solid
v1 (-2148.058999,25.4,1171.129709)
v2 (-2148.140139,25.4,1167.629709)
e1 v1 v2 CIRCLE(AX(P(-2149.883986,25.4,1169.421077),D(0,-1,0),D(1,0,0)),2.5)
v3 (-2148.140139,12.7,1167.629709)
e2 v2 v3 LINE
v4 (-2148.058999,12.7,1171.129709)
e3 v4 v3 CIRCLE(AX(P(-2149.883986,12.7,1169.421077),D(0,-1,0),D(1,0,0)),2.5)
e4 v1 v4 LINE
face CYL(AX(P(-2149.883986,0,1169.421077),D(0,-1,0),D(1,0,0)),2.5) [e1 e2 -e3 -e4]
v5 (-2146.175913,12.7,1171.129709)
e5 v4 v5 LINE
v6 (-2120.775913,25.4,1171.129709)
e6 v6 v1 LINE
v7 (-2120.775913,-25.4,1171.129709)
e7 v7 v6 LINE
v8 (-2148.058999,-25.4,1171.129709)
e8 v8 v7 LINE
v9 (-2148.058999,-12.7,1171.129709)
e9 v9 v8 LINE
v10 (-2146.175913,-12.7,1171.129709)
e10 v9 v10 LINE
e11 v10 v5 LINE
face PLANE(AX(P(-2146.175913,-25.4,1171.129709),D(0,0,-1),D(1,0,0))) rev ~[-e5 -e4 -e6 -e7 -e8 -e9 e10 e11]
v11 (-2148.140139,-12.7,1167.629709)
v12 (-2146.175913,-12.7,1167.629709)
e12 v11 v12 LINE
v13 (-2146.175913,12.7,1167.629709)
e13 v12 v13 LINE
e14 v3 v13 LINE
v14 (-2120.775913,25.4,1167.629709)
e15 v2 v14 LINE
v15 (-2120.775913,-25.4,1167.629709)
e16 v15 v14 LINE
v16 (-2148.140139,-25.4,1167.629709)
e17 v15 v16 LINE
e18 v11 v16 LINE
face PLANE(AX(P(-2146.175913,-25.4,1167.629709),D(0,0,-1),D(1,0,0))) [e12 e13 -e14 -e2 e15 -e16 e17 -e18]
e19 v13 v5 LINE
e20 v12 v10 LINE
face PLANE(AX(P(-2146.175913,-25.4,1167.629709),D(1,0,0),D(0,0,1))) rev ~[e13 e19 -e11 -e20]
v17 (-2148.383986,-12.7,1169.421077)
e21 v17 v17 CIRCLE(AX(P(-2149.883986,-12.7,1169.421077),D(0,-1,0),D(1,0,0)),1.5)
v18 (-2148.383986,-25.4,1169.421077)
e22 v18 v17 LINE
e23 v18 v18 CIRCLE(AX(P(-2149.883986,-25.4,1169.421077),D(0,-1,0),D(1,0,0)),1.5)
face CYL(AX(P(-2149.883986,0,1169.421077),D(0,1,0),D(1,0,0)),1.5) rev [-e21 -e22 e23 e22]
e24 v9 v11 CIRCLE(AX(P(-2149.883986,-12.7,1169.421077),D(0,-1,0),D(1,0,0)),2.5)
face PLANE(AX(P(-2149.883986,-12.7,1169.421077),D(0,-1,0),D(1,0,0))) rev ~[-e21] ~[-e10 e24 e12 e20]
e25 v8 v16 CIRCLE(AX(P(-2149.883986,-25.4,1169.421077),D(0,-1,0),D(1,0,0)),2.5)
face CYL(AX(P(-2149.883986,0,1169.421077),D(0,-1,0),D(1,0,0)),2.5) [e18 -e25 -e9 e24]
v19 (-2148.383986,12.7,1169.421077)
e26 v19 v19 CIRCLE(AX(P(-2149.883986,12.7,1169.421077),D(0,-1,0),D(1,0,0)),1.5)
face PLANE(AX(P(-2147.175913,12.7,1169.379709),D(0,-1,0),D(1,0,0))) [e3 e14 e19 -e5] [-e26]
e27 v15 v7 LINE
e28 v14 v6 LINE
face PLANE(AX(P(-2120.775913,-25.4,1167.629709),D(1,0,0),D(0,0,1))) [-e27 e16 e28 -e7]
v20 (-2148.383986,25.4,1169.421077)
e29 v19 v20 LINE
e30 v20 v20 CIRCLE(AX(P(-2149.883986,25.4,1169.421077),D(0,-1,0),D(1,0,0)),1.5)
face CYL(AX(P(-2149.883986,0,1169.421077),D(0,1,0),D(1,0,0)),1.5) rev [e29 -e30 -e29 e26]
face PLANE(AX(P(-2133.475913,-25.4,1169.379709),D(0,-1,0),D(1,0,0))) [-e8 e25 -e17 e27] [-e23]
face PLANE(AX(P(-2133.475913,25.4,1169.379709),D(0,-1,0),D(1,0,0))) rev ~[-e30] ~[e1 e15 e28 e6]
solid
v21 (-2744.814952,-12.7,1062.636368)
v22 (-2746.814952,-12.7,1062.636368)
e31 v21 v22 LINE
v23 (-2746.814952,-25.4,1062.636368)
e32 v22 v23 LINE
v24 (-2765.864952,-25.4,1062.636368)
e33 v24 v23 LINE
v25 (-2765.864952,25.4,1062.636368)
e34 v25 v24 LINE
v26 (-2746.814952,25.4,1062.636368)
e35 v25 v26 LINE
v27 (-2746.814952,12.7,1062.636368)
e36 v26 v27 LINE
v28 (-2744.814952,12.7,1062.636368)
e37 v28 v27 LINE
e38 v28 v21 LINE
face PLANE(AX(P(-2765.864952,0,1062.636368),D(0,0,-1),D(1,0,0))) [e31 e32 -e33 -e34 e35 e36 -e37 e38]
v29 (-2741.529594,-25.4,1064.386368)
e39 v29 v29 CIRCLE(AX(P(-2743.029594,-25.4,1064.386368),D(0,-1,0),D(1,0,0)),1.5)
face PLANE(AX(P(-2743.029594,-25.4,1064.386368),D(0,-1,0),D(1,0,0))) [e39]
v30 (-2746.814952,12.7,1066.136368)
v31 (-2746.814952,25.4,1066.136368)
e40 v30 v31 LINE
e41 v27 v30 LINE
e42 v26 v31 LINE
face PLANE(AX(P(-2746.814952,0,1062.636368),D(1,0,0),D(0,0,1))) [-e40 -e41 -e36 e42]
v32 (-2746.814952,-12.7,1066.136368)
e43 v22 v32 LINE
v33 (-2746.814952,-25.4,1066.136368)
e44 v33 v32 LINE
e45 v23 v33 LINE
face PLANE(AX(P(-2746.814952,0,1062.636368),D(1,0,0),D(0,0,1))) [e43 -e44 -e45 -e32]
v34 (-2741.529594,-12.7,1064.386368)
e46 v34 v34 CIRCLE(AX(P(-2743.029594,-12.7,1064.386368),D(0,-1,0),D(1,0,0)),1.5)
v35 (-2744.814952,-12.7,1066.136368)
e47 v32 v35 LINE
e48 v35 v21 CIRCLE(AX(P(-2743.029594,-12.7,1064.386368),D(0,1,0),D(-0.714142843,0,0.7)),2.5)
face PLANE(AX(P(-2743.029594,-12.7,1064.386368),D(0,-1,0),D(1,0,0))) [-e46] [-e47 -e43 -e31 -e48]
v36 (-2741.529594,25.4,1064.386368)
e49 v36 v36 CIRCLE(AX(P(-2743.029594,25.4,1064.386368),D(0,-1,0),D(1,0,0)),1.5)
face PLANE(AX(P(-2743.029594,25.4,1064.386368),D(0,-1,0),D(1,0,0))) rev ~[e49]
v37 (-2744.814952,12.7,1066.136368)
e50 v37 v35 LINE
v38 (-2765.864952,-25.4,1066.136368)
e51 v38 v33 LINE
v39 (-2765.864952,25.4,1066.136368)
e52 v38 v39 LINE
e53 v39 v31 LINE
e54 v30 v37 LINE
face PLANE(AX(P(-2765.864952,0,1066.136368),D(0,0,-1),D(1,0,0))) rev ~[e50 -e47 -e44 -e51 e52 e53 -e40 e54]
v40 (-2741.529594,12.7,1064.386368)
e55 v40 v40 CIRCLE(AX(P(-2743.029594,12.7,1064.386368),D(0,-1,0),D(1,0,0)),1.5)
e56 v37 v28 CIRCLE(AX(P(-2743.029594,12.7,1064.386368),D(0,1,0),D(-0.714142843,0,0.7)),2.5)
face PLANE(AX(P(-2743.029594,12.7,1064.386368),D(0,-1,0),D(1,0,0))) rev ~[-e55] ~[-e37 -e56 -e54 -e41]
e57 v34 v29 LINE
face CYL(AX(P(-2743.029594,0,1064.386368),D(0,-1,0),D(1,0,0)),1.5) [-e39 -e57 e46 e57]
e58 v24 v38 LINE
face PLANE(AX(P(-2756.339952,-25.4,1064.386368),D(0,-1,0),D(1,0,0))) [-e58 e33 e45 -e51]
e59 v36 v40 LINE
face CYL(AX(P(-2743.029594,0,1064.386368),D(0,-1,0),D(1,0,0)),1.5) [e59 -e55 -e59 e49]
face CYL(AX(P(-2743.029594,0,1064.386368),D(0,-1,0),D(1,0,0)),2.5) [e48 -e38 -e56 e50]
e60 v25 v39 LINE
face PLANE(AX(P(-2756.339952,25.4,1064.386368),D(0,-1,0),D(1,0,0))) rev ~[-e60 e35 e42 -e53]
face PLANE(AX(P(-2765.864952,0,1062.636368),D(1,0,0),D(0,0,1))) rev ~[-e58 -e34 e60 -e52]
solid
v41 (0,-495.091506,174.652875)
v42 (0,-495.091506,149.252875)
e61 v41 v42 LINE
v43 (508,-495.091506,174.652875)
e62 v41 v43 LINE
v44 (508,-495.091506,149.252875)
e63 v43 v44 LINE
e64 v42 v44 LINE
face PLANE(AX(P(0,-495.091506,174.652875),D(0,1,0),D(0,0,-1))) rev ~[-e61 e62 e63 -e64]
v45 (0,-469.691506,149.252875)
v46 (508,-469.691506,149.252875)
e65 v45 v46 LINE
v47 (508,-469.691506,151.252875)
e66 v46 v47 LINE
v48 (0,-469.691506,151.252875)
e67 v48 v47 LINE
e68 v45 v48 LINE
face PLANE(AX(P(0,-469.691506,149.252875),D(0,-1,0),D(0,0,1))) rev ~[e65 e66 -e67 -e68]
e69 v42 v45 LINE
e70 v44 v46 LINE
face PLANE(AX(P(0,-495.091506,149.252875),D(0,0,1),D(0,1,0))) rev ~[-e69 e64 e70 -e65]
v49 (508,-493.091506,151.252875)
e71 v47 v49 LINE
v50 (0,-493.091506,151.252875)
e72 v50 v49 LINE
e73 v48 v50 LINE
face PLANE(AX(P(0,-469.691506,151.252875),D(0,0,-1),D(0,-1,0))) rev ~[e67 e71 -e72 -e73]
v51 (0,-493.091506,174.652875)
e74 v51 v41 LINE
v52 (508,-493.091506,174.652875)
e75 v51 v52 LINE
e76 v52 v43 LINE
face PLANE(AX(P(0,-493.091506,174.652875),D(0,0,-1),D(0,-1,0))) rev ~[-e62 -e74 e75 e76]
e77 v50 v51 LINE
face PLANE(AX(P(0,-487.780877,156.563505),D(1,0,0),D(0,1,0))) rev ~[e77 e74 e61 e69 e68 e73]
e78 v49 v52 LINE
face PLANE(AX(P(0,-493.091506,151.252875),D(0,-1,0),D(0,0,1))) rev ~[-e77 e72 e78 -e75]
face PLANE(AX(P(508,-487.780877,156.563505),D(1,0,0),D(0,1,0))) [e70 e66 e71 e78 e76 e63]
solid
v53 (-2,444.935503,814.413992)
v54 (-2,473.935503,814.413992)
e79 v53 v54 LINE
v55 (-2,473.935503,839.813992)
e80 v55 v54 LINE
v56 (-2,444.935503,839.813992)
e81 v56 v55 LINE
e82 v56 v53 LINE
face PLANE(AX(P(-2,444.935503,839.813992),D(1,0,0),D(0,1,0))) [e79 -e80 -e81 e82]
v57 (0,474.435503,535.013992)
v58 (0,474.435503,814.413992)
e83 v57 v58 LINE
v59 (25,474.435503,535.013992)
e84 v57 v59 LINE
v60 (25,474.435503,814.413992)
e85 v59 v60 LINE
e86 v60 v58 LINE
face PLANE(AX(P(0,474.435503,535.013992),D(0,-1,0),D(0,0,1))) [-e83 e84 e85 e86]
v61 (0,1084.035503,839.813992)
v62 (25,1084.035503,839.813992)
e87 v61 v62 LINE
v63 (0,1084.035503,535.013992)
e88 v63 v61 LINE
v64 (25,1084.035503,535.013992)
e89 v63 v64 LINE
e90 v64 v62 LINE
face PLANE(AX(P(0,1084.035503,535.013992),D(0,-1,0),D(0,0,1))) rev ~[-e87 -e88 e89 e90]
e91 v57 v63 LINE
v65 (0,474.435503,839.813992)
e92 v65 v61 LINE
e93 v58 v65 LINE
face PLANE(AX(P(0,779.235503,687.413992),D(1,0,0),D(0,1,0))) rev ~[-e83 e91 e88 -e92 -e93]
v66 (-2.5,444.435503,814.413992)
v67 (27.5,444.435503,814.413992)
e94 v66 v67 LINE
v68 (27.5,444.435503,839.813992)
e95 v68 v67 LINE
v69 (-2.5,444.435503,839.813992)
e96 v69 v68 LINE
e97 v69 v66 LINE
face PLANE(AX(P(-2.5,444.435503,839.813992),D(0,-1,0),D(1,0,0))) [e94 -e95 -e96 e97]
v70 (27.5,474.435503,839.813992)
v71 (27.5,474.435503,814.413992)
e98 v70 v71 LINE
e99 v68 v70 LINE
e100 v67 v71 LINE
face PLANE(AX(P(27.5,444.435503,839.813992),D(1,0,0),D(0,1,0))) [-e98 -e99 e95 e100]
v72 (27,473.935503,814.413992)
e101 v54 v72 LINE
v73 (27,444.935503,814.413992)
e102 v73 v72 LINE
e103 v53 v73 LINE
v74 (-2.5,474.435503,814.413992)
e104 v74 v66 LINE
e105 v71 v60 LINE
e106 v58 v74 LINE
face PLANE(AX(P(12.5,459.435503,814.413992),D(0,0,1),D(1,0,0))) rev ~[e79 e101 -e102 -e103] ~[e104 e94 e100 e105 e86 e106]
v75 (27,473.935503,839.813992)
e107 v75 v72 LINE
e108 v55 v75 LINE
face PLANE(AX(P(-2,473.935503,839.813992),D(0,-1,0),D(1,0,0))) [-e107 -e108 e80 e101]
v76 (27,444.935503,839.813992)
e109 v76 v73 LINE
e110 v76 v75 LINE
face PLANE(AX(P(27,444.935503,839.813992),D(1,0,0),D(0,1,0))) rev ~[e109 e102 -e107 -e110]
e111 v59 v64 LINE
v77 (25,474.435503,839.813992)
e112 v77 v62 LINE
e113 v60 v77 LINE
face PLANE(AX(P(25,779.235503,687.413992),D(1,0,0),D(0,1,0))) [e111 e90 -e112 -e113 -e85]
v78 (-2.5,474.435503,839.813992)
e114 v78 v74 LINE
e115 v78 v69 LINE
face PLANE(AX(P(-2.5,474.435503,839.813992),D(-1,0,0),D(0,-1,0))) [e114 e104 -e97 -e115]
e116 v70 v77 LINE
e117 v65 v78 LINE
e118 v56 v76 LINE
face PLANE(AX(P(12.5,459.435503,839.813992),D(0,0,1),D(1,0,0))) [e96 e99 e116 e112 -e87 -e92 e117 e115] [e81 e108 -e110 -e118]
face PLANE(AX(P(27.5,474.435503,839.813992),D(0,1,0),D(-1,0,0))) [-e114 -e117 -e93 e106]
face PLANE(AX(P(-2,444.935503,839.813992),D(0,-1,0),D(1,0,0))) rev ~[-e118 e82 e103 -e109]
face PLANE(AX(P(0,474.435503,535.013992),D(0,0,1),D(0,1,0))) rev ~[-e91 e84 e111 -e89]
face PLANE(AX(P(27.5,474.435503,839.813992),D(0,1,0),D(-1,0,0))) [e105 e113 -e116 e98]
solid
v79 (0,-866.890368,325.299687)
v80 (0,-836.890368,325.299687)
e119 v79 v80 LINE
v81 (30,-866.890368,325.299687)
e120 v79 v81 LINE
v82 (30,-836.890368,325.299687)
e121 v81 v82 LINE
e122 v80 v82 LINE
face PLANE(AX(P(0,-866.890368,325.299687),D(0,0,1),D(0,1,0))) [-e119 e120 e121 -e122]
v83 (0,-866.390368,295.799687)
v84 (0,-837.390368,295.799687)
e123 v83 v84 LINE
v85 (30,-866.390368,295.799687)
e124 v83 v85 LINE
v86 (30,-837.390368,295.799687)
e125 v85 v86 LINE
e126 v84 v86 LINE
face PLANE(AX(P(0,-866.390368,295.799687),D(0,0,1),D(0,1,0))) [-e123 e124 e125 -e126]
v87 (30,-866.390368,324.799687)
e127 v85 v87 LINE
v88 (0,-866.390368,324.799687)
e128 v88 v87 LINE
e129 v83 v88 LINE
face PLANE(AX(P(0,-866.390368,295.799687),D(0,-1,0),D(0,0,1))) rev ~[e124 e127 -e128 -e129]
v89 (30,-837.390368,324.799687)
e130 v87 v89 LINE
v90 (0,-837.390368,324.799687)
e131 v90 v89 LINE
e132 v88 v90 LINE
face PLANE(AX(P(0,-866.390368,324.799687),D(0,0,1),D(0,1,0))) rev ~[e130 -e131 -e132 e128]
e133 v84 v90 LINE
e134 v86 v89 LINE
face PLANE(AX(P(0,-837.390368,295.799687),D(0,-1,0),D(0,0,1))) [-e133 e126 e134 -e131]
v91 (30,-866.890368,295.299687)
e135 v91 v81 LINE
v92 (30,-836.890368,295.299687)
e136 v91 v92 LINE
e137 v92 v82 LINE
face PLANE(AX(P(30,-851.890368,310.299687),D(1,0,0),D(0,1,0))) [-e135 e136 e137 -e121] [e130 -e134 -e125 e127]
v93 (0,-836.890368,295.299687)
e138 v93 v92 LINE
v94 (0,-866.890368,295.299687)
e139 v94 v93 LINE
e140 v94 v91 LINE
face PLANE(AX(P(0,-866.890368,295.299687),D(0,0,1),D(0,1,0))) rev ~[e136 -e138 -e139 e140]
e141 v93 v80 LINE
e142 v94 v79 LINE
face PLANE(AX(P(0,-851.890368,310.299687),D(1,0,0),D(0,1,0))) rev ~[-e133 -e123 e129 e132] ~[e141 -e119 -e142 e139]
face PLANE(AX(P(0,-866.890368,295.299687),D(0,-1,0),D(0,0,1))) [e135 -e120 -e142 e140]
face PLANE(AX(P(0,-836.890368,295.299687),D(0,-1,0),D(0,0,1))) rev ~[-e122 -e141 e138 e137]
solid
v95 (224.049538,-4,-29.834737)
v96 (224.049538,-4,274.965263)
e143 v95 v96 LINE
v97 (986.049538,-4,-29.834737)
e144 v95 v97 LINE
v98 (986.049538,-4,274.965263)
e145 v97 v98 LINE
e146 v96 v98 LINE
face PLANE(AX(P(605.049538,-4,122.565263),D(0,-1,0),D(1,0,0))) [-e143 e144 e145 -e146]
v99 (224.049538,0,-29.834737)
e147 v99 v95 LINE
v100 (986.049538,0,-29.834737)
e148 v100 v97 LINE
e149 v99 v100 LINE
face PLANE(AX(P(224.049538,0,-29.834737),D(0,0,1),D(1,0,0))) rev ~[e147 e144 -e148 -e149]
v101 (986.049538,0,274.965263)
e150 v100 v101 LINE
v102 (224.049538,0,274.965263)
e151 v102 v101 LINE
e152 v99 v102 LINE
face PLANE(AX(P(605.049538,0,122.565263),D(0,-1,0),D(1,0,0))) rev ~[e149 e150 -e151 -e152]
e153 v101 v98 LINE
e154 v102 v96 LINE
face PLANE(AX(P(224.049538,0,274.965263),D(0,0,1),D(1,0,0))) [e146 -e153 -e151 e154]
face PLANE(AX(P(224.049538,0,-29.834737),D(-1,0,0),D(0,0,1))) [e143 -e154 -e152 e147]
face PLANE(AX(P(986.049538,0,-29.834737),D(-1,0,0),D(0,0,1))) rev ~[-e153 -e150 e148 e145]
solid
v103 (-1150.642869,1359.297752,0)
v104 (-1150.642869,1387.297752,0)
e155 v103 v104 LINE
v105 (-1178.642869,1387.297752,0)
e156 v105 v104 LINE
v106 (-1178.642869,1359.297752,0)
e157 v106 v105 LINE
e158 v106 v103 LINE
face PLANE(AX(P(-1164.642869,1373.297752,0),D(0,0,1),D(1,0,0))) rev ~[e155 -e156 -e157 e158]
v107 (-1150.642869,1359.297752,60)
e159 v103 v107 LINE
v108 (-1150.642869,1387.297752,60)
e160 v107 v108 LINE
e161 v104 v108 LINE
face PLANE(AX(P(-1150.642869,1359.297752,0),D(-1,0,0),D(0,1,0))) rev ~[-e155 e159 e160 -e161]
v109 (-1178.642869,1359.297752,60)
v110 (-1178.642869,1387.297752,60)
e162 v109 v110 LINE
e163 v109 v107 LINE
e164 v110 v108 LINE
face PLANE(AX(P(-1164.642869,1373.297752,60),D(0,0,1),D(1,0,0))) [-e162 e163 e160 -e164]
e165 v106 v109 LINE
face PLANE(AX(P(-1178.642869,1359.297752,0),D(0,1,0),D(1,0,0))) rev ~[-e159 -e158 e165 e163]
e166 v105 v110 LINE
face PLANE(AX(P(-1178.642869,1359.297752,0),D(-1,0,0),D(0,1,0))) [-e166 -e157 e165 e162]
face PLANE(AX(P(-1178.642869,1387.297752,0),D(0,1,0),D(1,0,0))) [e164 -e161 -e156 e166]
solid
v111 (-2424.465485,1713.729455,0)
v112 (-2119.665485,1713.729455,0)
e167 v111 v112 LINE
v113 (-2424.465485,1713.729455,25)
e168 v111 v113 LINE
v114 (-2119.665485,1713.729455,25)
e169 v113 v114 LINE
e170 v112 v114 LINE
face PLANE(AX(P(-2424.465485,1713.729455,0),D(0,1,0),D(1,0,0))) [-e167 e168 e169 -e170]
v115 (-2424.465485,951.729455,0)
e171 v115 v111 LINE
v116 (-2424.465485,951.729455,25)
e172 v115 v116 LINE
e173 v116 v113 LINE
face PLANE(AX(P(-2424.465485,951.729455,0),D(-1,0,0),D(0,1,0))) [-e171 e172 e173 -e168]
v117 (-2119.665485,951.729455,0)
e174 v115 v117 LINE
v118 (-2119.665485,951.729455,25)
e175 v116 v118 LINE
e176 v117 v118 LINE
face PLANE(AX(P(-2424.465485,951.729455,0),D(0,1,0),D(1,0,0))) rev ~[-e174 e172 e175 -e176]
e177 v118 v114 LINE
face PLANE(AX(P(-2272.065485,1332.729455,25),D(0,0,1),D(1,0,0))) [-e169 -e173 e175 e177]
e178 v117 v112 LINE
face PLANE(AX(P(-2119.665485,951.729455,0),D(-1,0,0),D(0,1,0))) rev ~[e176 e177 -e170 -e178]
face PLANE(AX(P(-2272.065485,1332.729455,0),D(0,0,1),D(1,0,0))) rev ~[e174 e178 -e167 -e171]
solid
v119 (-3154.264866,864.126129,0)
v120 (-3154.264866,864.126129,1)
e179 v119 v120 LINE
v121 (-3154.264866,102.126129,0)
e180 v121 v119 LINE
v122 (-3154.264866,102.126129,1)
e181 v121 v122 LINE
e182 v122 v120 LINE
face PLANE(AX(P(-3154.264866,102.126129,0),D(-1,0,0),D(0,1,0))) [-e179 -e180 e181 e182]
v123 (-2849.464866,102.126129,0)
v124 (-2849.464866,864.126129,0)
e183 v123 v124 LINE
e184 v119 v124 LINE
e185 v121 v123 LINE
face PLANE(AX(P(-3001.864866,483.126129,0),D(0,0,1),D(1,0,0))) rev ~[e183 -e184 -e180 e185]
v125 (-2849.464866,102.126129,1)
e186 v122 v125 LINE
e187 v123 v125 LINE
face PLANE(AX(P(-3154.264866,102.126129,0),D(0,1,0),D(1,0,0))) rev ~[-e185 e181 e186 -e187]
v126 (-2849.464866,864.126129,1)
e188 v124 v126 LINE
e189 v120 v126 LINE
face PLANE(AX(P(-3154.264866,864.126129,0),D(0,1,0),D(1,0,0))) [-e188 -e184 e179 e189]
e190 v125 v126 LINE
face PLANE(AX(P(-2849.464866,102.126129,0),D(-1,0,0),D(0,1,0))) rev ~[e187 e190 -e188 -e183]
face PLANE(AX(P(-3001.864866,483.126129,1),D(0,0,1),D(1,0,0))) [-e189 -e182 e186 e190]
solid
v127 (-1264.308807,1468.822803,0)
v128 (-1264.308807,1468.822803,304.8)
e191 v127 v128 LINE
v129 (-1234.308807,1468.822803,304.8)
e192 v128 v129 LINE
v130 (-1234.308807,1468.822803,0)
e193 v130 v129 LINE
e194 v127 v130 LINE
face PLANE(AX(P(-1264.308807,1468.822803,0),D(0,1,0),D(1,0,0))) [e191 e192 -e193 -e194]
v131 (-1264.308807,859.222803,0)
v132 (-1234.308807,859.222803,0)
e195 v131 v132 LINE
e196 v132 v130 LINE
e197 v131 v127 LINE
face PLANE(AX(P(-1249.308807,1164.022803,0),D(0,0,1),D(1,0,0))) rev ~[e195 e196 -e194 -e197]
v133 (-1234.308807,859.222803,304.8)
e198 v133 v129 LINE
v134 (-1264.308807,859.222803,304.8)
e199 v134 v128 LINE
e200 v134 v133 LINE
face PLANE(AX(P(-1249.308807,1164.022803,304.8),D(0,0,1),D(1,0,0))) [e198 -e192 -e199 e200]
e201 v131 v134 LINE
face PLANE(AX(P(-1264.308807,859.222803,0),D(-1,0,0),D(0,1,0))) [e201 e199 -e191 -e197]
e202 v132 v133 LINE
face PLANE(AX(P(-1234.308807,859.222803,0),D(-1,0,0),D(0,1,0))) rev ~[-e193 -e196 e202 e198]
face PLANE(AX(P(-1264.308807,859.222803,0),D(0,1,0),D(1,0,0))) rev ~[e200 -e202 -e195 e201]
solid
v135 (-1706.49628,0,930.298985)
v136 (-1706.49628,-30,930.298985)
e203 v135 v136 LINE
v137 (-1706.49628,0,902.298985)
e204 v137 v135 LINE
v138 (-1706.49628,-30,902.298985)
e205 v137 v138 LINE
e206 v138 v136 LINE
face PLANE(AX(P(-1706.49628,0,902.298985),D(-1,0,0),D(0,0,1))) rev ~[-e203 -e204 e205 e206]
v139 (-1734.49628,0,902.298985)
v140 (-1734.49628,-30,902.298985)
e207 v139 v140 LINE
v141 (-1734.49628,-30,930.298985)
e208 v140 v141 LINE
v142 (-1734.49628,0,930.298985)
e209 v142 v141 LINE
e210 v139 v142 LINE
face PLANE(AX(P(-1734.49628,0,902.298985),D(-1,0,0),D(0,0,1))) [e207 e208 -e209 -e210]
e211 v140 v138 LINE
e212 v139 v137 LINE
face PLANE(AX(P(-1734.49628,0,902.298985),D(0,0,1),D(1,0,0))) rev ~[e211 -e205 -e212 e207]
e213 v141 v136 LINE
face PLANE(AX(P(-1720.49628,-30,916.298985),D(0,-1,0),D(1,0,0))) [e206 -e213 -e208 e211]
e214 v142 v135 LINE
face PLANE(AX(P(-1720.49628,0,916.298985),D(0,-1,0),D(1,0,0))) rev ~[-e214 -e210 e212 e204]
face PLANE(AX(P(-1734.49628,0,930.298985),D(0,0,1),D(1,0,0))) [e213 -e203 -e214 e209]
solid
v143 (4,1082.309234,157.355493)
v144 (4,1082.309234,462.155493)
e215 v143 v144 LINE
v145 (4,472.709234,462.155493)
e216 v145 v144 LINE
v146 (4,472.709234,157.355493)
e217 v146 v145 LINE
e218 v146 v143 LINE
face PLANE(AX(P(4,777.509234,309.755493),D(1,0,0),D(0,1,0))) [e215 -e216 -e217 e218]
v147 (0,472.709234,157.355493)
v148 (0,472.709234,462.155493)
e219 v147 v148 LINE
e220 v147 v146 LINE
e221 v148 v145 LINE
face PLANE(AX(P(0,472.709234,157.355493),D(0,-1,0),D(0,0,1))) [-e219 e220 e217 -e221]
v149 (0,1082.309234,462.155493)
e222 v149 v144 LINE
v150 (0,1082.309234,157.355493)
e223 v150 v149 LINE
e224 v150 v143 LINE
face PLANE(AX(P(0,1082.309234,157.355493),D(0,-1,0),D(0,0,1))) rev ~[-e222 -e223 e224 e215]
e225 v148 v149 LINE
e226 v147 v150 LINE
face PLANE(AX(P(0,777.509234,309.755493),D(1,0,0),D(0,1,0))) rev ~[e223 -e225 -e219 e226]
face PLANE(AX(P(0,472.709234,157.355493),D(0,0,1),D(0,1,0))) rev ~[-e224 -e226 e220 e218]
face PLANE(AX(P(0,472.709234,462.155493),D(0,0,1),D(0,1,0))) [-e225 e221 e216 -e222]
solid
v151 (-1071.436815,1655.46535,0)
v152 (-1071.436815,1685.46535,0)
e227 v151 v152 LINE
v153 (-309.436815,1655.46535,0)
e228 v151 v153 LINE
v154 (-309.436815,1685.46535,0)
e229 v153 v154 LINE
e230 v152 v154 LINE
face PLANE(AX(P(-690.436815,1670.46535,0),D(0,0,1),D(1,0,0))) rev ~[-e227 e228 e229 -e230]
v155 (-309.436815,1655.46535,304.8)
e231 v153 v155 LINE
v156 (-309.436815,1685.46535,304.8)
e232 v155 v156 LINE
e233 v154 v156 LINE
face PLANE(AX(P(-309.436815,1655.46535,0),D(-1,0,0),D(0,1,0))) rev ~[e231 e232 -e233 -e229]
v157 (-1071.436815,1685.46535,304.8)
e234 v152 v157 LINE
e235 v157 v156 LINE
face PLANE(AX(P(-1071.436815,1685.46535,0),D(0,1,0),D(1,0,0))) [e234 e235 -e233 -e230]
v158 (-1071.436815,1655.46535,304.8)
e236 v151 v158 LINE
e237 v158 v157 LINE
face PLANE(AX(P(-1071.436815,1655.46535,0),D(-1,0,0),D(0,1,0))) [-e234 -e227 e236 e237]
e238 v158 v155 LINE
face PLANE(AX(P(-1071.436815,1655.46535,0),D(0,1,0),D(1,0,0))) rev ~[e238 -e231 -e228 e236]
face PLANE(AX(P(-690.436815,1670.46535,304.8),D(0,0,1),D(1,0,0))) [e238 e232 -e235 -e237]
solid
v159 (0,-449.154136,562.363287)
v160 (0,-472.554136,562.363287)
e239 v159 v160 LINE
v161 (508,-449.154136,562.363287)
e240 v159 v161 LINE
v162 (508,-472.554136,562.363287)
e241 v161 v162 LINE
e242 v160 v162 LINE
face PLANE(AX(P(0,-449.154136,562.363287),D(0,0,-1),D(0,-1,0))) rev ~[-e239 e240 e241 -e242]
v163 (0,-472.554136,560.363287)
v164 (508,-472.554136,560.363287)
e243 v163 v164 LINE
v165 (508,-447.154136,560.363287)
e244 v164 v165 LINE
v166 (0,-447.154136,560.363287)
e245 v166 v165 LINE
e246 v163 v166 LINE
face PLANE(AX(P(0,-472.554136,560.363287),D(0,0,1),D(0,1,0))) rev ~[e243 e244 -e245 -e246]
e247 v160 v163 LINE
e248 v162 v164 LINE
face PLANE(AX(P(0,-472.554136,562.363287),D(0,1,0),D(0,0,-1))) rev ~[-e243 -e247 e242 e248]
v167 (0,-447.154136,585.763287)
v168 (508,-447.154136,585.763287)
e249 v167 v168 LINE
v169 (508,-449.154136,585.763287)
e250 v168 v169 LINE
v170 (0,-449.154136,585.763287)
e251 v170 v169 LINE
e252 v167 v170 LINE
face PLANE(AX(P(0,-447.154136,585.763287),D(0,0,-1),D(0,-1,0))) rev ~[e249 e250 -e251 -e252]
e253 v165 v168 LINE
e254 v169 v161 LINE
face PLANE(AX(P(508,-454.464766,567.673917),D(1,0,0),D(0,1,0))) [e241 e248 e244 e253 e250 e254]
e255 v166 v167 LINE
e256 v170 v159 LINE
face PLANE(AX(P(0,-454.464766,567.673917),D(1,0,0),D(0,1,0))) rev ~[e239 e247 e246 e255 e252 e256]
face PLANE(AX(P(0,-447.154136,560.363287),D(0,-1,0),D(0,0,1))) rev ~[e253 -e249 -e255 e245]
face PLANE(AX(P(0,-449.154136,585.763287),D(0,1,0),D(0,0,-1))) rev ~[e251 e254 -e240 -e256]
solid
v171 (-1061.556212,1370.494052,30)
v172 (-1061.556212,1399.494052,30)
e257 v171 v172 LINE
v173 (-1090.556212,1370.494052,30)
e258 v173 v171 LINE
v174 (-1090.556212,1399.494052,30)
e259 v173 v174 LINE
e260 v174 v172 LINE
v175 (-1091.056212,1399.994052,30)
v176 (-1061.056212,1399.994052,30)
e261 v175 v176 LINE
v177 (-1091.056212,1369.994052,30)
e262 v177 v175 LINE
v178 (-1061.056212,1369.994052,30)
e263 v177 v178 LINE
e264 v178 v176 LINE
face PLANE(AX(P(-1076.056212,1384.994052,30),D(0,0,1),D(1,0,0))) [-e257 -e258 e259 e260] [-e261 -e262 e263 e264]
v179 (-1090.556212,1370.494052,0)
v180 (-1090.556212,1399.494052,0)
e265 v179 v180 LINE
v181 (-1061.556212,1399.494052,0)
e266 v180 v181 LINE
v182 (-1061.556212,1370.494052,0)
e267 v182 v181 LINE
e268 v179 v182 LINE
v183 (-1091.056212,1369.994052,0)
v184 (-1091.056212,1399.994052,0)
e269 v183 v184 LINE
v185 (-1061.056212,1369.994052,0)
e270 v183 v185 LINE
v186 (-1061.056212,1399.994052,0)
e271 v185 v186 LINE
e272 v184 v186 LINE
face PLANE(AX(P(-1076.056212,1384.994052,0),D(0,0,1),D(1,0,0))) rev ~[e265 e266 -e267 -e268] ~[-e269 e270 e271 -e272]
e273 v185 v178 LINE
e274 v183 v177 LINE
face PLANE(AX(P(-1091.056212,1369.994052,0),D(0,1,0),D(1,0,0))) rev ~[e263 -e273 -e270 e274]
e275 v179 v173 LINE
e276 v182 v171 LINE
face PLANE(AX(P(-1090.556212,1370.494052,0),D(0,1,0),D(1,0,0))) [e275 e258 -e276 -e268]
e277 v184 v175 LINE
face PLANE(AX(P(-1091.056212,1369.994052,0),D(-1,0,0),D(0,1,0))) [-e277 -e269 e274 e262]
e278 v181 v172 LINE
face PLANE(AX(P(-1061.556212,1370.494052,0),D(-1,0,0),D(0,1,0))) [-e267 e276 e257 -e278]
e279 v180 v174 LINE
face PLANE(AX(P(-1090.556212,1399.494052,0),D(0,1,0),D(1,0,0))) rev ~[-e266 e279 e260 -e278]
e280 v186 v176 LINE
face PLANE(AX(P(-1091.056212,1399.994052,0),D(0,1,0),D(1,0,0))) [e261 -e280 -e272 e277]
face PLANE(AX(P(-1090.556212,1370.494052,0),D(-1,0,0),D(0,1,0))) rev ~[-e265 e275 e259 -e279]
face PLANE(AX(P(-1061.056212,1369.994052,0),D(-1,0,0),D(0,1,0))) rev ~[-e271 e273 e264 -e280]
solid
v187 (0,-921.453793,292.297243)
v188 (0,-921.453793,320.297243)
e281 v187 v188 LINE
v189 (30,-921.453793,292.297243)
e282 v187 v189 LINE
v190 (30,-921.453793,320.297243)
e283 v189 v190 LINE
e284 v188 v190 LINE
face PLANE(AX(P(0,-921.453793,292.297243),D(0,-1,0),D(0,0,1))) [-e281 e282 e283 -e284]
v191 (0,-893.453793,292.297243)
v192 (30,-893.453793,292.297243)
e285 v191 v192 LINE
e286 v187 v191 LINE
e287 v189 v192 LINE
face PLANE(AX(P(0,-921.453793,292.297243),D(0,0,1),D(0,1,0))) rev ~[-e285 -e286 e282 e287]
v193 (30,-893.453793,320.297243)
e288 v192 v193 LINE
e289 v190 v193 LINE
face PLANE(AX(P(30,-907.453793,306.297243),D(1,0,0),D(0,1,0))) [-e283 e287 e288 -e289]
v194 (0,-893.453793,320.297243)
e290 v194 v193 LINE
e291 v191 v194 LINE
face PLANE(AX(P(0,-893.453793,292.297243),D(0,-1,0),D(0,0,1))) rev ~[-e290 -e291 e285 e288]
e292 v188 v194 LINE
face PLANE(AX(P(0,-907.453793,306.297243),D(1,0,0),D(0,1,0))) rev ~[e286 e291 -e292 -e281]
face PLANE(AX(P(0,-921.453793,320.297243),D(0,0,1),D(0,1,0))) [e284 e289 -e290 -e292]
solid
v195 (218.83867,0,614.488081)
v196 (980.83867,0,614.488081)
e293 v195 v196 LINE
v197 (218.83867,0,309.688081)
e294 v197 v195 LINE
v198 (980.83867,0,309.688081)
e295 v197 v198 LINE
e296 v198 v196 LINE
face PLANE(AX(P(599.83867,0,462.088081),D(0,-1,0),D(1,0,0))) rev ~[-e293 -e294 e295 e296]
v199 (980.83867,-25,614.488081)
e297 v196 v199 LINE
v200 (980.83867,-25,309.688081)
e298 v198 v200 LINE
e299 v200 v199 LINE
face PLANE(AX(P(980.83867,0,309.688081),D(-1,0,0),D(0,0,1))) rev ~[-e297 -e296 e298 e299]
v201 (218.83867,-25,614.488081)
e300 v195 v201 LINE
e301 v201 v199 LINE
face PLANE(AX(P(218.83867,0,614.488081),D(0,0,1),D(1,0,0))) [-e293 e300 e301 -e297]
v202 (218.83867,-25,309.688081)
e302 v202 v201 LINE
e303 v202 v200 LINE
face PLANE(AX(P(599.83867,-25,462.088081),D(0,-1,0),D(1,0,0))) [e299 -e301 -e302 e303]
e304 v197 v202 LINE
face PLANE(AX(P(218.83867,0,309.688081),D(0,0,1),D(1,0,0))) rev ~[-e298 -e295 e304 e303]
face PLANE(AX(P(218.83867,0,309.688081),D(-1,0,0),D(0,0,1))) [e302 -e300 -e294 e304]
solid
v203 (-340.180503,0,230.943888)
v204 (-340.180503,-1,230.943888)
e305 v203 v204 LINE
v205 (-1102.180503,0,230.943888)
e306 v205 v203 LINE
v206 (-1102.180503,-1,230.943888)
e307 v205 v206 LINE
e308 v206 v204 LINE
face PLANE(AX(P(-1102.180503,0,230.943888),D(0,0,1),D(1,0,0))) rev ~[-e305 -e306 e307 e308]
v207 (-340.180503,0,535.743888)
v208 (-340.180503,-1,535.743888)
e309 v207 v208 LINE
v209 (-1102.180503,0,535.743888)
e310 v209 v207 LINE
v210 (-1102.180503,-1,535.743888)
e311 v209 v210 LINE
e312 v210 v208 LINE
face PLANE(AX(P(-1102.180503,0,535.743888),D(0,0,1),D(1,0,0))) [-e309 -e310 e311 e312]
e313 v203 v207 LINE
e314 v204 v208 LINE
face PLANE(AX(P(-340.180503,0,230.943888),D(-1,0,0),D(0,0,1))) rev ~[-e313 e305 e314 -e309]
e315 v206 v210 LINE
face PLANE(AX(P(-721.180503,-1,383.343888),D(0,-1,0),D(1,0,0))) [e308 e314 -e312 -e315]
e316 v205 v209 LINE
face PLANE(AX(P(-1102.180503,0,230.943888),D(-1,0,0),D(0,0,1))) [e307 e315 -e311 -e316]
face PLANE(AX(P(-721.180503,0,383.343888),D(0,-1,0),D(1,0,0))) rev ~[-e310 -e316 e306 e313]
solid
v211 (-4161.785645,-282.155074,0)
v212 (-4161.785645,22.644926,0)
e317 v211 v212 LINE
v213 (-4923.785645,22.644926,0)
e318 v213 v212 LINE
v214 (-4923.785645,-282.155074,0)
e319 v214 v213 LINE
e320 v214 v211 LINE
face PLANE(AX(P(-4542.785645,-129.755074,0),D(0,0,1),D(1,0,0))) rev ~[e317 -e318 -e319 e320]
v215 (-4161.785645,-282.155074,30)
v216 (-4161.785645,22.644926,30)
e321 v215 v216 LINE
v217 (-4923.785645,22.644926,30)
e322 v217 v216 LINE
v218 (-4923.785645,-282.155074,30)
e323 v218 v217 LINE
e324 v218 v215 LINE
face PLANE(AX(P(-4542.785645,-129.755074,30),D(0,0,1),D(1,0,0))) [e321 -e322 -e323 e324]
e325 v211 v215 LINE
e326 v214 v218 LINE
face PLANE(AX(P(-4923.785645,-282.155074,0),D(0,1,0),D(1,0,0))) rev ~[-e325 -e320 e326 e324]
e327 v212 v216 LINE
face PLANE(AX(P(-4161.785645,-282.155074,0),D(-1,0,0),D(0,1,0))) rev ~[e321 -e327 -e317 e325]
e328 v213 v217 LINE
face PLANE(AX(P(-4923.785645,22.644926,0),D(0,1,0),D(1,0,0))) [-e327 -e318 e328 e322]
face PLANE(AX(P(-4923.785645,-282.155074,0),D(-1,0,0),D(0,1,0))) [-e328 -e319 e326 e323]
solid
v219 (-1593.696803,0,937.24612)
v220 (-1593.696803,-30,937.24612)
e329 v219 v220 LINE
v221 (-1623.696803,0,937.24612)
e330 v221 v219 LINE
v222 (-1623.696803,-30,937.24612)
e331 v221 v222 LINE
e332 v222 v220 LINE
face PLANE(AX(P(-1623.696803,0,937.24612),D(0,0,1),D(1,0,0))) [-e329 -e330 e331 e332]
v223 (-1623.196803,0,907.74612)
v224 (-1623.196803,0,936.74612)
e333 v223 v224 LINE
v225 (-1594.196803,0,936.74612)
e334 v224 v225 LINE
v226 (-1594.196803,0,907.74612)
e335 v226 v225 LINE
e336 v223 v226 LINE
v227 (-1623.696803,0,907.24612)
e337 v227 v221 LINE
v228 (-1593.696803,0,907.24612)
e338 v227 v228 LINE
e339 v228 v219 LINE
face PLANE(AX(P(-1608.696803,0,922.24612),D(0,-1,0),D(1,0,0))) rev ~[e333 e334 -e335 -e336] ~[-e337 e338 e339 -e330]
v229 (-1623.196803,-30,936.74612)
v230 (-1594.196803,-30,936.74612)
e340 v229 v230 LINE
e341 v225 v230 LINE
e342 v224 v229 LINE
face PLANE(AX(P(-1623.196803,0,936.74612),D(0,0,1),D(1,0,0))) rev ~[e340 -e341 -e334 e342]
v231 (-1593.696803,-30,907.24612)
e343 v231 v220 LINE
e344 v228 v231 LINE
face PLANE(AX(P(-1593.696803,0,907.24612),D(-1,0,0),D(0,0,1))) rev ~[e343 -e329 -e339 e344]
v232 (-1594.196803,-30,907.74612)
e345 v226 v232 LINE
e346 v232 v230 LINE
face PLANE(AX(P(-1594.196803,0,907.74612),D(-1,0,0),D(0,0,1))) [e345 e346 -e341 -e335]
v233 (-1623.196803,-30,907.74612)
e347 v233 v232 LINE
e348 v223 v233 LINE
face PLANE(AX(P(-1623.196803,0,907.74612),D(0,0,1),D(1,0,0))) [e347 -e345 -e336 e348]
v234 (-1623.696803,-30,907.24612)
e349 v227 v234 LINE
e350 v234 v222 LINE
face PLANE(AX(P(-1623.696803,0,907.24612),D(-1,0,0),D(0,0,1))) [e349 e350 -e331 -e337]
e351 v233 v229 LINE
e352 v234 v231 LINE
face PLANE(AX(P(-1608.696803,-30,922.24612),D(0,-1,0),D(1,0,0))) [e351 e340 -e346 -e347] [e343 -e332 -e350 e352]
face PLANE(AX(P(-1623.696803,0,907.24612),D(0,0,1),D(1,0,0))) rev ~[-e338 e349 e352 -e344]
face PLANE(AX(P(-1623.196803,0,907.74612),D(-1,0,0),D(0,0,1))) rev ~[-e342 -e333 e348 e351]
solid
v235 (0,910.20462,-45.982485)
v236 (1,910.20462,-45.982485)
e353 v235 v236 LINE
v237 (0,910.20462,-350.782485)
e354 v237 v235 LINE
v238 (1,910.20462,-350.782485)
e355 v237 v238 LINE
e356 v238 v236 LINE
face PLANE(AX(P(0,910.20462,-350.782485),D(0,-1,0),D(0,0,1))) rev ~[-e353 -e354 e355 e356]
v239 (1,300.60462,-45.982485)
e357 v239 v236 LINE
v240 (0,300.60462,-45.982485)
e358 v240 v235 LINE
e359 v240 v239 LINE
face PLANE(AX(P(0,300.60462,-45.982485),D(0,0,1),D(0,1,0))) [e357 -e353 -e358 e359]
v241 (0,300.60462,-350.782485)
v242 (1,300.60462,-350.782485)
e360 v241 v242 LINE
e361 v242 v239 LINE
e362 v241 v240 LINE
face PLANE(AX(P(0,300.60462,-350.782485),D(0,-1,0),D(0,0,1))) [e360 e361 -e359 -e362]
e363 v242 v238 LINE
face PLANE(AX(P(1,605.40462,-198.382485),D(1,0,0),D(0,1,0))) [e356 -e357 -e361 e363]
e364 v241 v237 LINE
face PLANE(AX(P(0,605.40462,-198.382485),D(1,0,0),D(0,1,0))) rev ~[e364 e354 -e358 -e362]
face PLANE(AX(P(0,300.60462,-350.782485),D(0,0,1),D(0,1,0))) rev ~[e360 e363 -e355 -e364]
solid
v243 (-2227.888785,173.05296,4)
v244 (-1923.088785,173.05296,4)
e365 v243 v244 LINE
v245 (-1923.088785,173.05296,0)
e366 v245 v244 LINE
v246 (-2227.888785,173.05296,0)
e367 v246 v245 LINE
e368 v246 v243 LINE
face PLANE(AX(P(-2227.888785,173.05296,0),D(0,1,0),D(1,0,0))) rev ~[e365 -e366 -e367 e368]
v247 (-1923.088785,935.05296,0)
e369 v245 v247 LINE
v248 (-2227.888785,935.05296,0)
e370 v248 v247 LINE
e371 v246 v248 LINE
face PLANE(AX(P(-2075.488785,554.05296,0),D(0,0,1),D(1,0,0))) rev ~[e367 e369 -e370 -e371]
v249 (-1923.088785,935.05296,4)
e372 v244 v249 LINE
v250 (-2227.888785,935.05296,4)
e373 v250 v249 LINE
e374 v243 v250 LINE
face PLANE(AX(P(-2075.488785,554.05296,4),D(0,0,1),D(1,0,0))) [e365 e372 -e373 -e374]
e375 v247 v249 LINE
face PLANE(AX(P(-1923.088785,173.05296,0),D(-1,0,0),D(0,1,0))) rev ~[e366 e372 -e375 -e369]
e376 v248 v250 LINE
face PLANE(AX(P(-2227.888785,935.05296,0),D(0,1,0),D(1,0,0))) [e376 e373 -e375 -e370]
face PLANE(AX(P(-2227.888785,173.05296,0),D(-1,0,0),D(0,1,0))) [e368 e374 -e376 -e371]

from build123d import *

# Parameters (mm, degrees)
F0_W      = 762
F0_H      = 304.8
F1_DEPTH  = 25
F2_W      = 762
F2_H      = 304.8
F3_DEPTH  = 4
F4_W      = 762
F4_H      = 304.8
F5_DEPTH  = 1
F6_W      = 609.6
F6_H      = 304.8
F7_DEPTH  = 25
F8_W      = 609.6
F8_H      = 304.8
F9_DEPTH  = 4
F10_W     = 609.6
F10_H     = 304.8
F11_DEPTH = 1
F13_DEPTH = 508
F15_DEPTH = 508
F16_W     = 304.8
F16_H     = 762
F17_DEPTH = 25
F18_W     = 304.8
F18_H     = 762
F19_DEPTH = 1
F20_W     = 304.8
F20_H     = 762
F21_DEPTH = 4
F22_R     = 2.5
F22_R_2   = 1.5
F23_DEPTH = 12.7
F24_DEPTH = 25.4
F26_DEPTH = 25.4
F27_W     = 19.05
F27_H     = 3.5
F28_DEPTH = 25.4
F29_R     = 2.5
F29_R_2   = 1.5
F30_DEPTH = 25.4
F31_DEPTH = 12.7
F32_W     = 2
F32_H     = 3.5
F33_DEPTH = 25.4
F34_DEPTH = 12.7
F35_W     = 25.4
F35_H     = 3.5
F36_DEPTH = 50.8
F37_W     = 29
F37_H     = 29
F38_DEPTH = 25.4
F39_W     = 28
F39_H     = 28
F40_DEPTH = 60
F41_W     = 30
F41_H     = 30
F41_W_2   = 29
F41_H_2   = 29
F42_DEPTH = 30
F43_W     = 30
F43_H     = 609.6
F44_DEPTH = 304.8
F45_W     = 762
F45_H     = 30
F46_DEPTH = 304.8
F47_W     = 28
F47_H     = 28
F48_DEPTH = 30
F49_W     = 30
F49_H     = 30
F49_W_2   = 29
F49_H_2   = 29
F50_DEPTH = 30
F51_W     = 28
F51_H     = 28
F52_DEPTH = 30
F53_W     = 30
F53_H     = 30
F53_W_2   = 29
F53_H_2   = 29
F54_DEPTH = 30
F55_W     = 762
F55_H     = 304.8
F56_DEPTH = 30


with BuildPart() as f1:
    # F0 (on Front) → F1 (new body)
    with BuildSketch(Plane.XZ):
        with Locations((599.8386698723, 462.0880805476)):
            Rectangle(F0_W, F0_H)
    extrude(amount=F1_DEPTH)


with BuildPart() as f3:
    # F2 (on Front) → F3 (new body)
    with BuildSketch(Plane.XZ):
        with Locations((605.0495383174, 122.5652631044)):
            Rectangle(F2_W, F2_H)
    extrude(amount=F3_DEPTH)


with BuildPart() as f5:
    # F4 (on Front) → F5 (new body)
    with BuildSketch(Plane.XZ):
        with Locations((-721.1805027962, 383.3438879953)):
            Rectangle(F4_W, F4_H)
    extrude(amount=F5_DEPTH)


with BuildPart() as f7:
    # F6 (on Right) → F7 (new body)
    with BuildSketch(Plane.YZ):
        with Locations((779.2355034828, 687.4139923522)):
            Rectangle(F6_W, F6_H)
    extrude(amount=F7_DEPTH)

    # F37 (on face) → F38 (join)
    with BuildSketch(Plane.XY.offset(839.8139923522)):
        Polygon((-2.5, 444.4355034828), (27.5, 444.4355034828), (27.5, 474.4355034828), (25, 474.4355034828), (0, 474.4355034828), (-2.5, 474.4355034828), align=None)
        with Locations((12.5, 459.4355034828)):
            Rectangle(F37_W, F37_H, mode=Mode.SUBTRACT)
    extrude(amount=-F38_DEPTH)


with BuildPart() as f9:
    # F8 (on Right) → F9 (new body)
    with BuildSketch(Plane.YZ):
        with Locations((777.5092337608, 309.7554932385)):
            Rectangle(F8_W, F8_H)
    extrude(amount=F9_DEPTH)


with BuildPart() as f11:
    # F10 (on Right) → F11 (new body)
    with BuildSketch(Plane.YZ):
        with Locations((605.4046195984, -198.3824845113)):
            Rectangle(F10_W, F10_H)
    extrude(amount=F11_DEPTH)


with BuildPart() as f13:
    # F12 (on Right) → F13 (new body)
    with BuildSketch(Plane.YZ):
        Polygon((-493.0915064335, 174.6528752655), (-495.0915064335, 174.6528752655), (-495.0915064335, 149.2528752655), (-469.6915064335, 149.2528752655), (-469.6915064335, 151.2528752655), (-493.0915064335, 151.2528752655), align=None)
    extrude(amount=F13_DEPTH)


with BuildPart() as f15:
    # F14 (on Right) → F15 (new body)
    with BuildSketch(Plane.YZ):
        Polygon((-447.1541363748, 560.3632873245), (-447.1541363748, 585.7632873245), (-449.1541363748, 585.7632873245), (-449.1541363748, 562.3632873245), (-472.5541363748, 562.3632873245), (-472.5541363748, 560.3632873245), align=None)
    extrude(amount=F15_DEPTH)


with BuildPart() as f17:
    # F16 (on Top) → F17 (new body)
    with BuildSketch(Plane.XY):
        with Locations((-2272.0654850662, 1332.7294546127)):
            Rectangle(F16_W, F16_H)
    extrude(amount=F17_DEPTH)


with BuildPart() as f19:
    # F18 (on Top) → F19 (new body)
    with BuildSketch(Plane.XY):
        with Locations((-3001.8648662765, 483.1261294842)):
            Rectangle(F18_W, F18_H)
    extrude(amount=F19_DEPTH)


with BuildPart() as f21:
    # F20 (on Top) → F21 (new body)
    with BuildSketch(Plane.XY):
        with Locations((-2075.48878479, 554.0529595732)):
            Rectangle(F20_W, F20_H)
    extrude(amount=F21_DEPTH)


with BuildPart() as f23:
    # F22 (on Front) → F23 (new body, symmetric)
    with BuildSketch(Plane.XZ):
        with Locations((-2743.0295944214, 1064.3863677979)):
            Circle(F22_R)
        with Locations((-2743.0295944214, 1064.3863677979)):
            Circle(F22_R_2, mode=Mode.SUBTRACT)
    extrude(amount=F23_DEPTH, both=True)

    # F22 (on Front) → F24 (join, symmetric)
    with BuildSketch(Plane.XZ):
        with Locations((-2743.0295944214, 1064.3863677979)):
            Circle(F22_R_2)
    extrude(amount=F24_DEPTH, both=True)

    # F25 (on face) → F26 (join)
    with BuildSketch(Plane(origin=(0, 12.7, 0), x_dir=(-1, 0, 0), z_dir=(0, 1, 0))):
        with BuildLine():
            Line((2746.8149515285, 1066.1363677979), (2744.8149515285, 1066.1363677979))
            ThreePointArc((2744.8149515285, 1066.1363677979), (2745.3440482196, 1065.3315152023), (2745.5295944214, 1064.3863677979))
            ThreePointArc((2745.5295944214, 1064.3863677979), (2745.3440482196, 1063.4412203934), (2744.8149515285, 1062.6363677979))
            Line((2744.8149515285, 1062.6363677979), (2746.8149515285, 1062.6363677979))
            Line((2746.8149515285, 1062.6363677979), (2746.8149515285, 1066.1363677979))
        make_face()
    extrude(amount=-F26_DEPTH)

    # F27 (on face) → F28 (join, symmetric)
    with BuildSketch(Plane.XZ):
        with Locations((-2756.3399515285, 1064.3863677979)):
            Rectangle(F27_W, F27_H)
    extrude(amount=F28_DEPTH, both=True)


with BuildPart() as f30:
    # F29 (on Front) → F30 (new body, symmetric)
    with BuildSketch(Plane.XZ):
        with Locations((-2149.8839855194, 1169.4210767746)):
            Circle(F29_R)
        with Locations((-2149.8839855194, 1169.4210767746)):
            Circle(F29_R_2, mode=Mode.SUBTRACT)
    extrude(amount=F30_DEPTH, both=True)

    # F29 (on Front) → F31 (cut, symmetric)
    with BuildSketch(Plane.XZ):
        with Locations((-2149.8839855194, 1169.4210767746)):
            Circle(F29_R)
        with Locations((-2149.8839855194, 1169.4210767746)):
            Circle(F29_R_2, mode=Mode.SUBTRACT)
    extrude(amount=F31_DEPTH, both=True, mode=Mode.SUBTRACT)

    # F32 (on face) → F33 (join, symmetric)
    with BuildSketch(Plane.XZ):
        with Locations((-2147.1759129318, 1169.3797089655)):
            Rectangle(F32_W, F32_H)
    extrude(amount=F33_DEPTH, both=True)

    # F32 (on face) → F34 (cut, symmetric)
    with BuildSketch(Plane.XZ):
        with Locations((-2147.1759129318, 1169.3797089655)):
            Rectangle(F32_W, F32_H)
    extrude(amount=F34_DEPTH, both=True, mode=Mode.SUBTRACT)

    # F35 (on face) → F36 (join)
    with BuildSketch(Plane.XZ.offset(25.4)):
        with Locations((-2133.4759129318, 1169.3797089655)):
            Rectangle(F35_W, F35_H)
    extrude(amount=-F36_DEPTH)


with BuildPart() as f40:
    # F39 (on Top) → F40 (new body)
    with BuildSketch(Plane.XY):
        with Locations((-1164.6428689957, 1373.2977523804)):
            Rectangle(F39_W, F39_H)
    extrude(amount=F40_DEPTH)


with BuildPart() as f42:
    # F41 (on Top) → F42 (new body)
    with BuildSketch(Plane.XY):
        with Locations((-1076.0562123923, 1384.9940519333)):
            Rectangle(F41_W, F41_H)
        with Locations((-1076.0562123923, 1384.9940519333)):
            Rectangle(F41_W_2, F41_H_2, mode=Mode.SUBTRACT)
    extrude(amount=F42_DEPTH)


with BuildPart() as f44:
    # F43 (on Top) → F44 (new body)
    with BuildSketch(Plane.XY):
        with Locations((-1249.3088068203, 1164.0228033066)):
            Rectangle(F43_W, F43_H)
    extrude(amount=F44_DEPTH)


with BuildPart() as f46:
    # F45 (on Top) → F46 (new body)
    with BuildSketch(Plane.XY):
        with Locations((-690.4368151316, 1670.4653501511)):
            Rectangle(F45_W, F45_H)
    extrude(amount=F46_DEPTH)


with BuildPart() as f48:
    # F47 (on Front) → F48 (new body)
    with BuildSketch(Plane.XZ):
        with Locations((-1720.4962798794, 916.2989854813)):
            Rectangle(F47_W, F47_H)
    extrude(amount=F48_DEPTH)


with BuildPart() as f50:
    # F49 (on Front) → F50 (new body)
    with BuildSketch(Plane.XZ):
        with Locations((-1608.6968025134, 922.2461204529)):
            Rectangle(F49_W, F49_H)
        with Locations((-1608.6968025134, 922.2461204529)):
            Rectangle(F49_W_2, F49_H_2, mode=Mode.SUBTRACT)
    extrude(amount=F50_DEPTH)


with BuildPart() as f52:
    # F51 (on Right) → F52 (new body)
    with BuildSketch(Plane.YZ):
        with Locations((-907.4537928112, 306.2972426414)):
            Rectangle(F51_W, F51_H)
    extrude(amount=F52_DEPTH)


with BuildPart() as f54:
    # F53 (on Right) → F54 (new body)
    with BuildSketch(Plane.YZ):
        with Locations((-851.890368133, 310.2996866703)):
            Rectangle(F53_W, F53_H)
        with Locations((-851.890368133, 310.2996866703)):
            Rectangle(F53_W_2, F53_H_2, mode=Mode.SUBTRACT)
    extrude(amount=F54_DEPTH)


with BuildPart() as f56:
    # F55 (on Top) → F56 (new body)
    with BuildSketch(Plane.XY):
        with Locations((-4542.7856445312, -129.7550738062)):
            Rectangle(F55_W, F55_H)
    extrude(amount=F56_DEPTH)


solid = Compound([f1.part, f3.part, f5.part, f7.part, f9.part, f11.part, f13.part, f15.part, f17.part, f19.part, f21.part, f23.part, f30.part, f40.part, f42.part, f44.part, f46.part, f48.part, f50.part, f52.part, f54.part, f56.part])
